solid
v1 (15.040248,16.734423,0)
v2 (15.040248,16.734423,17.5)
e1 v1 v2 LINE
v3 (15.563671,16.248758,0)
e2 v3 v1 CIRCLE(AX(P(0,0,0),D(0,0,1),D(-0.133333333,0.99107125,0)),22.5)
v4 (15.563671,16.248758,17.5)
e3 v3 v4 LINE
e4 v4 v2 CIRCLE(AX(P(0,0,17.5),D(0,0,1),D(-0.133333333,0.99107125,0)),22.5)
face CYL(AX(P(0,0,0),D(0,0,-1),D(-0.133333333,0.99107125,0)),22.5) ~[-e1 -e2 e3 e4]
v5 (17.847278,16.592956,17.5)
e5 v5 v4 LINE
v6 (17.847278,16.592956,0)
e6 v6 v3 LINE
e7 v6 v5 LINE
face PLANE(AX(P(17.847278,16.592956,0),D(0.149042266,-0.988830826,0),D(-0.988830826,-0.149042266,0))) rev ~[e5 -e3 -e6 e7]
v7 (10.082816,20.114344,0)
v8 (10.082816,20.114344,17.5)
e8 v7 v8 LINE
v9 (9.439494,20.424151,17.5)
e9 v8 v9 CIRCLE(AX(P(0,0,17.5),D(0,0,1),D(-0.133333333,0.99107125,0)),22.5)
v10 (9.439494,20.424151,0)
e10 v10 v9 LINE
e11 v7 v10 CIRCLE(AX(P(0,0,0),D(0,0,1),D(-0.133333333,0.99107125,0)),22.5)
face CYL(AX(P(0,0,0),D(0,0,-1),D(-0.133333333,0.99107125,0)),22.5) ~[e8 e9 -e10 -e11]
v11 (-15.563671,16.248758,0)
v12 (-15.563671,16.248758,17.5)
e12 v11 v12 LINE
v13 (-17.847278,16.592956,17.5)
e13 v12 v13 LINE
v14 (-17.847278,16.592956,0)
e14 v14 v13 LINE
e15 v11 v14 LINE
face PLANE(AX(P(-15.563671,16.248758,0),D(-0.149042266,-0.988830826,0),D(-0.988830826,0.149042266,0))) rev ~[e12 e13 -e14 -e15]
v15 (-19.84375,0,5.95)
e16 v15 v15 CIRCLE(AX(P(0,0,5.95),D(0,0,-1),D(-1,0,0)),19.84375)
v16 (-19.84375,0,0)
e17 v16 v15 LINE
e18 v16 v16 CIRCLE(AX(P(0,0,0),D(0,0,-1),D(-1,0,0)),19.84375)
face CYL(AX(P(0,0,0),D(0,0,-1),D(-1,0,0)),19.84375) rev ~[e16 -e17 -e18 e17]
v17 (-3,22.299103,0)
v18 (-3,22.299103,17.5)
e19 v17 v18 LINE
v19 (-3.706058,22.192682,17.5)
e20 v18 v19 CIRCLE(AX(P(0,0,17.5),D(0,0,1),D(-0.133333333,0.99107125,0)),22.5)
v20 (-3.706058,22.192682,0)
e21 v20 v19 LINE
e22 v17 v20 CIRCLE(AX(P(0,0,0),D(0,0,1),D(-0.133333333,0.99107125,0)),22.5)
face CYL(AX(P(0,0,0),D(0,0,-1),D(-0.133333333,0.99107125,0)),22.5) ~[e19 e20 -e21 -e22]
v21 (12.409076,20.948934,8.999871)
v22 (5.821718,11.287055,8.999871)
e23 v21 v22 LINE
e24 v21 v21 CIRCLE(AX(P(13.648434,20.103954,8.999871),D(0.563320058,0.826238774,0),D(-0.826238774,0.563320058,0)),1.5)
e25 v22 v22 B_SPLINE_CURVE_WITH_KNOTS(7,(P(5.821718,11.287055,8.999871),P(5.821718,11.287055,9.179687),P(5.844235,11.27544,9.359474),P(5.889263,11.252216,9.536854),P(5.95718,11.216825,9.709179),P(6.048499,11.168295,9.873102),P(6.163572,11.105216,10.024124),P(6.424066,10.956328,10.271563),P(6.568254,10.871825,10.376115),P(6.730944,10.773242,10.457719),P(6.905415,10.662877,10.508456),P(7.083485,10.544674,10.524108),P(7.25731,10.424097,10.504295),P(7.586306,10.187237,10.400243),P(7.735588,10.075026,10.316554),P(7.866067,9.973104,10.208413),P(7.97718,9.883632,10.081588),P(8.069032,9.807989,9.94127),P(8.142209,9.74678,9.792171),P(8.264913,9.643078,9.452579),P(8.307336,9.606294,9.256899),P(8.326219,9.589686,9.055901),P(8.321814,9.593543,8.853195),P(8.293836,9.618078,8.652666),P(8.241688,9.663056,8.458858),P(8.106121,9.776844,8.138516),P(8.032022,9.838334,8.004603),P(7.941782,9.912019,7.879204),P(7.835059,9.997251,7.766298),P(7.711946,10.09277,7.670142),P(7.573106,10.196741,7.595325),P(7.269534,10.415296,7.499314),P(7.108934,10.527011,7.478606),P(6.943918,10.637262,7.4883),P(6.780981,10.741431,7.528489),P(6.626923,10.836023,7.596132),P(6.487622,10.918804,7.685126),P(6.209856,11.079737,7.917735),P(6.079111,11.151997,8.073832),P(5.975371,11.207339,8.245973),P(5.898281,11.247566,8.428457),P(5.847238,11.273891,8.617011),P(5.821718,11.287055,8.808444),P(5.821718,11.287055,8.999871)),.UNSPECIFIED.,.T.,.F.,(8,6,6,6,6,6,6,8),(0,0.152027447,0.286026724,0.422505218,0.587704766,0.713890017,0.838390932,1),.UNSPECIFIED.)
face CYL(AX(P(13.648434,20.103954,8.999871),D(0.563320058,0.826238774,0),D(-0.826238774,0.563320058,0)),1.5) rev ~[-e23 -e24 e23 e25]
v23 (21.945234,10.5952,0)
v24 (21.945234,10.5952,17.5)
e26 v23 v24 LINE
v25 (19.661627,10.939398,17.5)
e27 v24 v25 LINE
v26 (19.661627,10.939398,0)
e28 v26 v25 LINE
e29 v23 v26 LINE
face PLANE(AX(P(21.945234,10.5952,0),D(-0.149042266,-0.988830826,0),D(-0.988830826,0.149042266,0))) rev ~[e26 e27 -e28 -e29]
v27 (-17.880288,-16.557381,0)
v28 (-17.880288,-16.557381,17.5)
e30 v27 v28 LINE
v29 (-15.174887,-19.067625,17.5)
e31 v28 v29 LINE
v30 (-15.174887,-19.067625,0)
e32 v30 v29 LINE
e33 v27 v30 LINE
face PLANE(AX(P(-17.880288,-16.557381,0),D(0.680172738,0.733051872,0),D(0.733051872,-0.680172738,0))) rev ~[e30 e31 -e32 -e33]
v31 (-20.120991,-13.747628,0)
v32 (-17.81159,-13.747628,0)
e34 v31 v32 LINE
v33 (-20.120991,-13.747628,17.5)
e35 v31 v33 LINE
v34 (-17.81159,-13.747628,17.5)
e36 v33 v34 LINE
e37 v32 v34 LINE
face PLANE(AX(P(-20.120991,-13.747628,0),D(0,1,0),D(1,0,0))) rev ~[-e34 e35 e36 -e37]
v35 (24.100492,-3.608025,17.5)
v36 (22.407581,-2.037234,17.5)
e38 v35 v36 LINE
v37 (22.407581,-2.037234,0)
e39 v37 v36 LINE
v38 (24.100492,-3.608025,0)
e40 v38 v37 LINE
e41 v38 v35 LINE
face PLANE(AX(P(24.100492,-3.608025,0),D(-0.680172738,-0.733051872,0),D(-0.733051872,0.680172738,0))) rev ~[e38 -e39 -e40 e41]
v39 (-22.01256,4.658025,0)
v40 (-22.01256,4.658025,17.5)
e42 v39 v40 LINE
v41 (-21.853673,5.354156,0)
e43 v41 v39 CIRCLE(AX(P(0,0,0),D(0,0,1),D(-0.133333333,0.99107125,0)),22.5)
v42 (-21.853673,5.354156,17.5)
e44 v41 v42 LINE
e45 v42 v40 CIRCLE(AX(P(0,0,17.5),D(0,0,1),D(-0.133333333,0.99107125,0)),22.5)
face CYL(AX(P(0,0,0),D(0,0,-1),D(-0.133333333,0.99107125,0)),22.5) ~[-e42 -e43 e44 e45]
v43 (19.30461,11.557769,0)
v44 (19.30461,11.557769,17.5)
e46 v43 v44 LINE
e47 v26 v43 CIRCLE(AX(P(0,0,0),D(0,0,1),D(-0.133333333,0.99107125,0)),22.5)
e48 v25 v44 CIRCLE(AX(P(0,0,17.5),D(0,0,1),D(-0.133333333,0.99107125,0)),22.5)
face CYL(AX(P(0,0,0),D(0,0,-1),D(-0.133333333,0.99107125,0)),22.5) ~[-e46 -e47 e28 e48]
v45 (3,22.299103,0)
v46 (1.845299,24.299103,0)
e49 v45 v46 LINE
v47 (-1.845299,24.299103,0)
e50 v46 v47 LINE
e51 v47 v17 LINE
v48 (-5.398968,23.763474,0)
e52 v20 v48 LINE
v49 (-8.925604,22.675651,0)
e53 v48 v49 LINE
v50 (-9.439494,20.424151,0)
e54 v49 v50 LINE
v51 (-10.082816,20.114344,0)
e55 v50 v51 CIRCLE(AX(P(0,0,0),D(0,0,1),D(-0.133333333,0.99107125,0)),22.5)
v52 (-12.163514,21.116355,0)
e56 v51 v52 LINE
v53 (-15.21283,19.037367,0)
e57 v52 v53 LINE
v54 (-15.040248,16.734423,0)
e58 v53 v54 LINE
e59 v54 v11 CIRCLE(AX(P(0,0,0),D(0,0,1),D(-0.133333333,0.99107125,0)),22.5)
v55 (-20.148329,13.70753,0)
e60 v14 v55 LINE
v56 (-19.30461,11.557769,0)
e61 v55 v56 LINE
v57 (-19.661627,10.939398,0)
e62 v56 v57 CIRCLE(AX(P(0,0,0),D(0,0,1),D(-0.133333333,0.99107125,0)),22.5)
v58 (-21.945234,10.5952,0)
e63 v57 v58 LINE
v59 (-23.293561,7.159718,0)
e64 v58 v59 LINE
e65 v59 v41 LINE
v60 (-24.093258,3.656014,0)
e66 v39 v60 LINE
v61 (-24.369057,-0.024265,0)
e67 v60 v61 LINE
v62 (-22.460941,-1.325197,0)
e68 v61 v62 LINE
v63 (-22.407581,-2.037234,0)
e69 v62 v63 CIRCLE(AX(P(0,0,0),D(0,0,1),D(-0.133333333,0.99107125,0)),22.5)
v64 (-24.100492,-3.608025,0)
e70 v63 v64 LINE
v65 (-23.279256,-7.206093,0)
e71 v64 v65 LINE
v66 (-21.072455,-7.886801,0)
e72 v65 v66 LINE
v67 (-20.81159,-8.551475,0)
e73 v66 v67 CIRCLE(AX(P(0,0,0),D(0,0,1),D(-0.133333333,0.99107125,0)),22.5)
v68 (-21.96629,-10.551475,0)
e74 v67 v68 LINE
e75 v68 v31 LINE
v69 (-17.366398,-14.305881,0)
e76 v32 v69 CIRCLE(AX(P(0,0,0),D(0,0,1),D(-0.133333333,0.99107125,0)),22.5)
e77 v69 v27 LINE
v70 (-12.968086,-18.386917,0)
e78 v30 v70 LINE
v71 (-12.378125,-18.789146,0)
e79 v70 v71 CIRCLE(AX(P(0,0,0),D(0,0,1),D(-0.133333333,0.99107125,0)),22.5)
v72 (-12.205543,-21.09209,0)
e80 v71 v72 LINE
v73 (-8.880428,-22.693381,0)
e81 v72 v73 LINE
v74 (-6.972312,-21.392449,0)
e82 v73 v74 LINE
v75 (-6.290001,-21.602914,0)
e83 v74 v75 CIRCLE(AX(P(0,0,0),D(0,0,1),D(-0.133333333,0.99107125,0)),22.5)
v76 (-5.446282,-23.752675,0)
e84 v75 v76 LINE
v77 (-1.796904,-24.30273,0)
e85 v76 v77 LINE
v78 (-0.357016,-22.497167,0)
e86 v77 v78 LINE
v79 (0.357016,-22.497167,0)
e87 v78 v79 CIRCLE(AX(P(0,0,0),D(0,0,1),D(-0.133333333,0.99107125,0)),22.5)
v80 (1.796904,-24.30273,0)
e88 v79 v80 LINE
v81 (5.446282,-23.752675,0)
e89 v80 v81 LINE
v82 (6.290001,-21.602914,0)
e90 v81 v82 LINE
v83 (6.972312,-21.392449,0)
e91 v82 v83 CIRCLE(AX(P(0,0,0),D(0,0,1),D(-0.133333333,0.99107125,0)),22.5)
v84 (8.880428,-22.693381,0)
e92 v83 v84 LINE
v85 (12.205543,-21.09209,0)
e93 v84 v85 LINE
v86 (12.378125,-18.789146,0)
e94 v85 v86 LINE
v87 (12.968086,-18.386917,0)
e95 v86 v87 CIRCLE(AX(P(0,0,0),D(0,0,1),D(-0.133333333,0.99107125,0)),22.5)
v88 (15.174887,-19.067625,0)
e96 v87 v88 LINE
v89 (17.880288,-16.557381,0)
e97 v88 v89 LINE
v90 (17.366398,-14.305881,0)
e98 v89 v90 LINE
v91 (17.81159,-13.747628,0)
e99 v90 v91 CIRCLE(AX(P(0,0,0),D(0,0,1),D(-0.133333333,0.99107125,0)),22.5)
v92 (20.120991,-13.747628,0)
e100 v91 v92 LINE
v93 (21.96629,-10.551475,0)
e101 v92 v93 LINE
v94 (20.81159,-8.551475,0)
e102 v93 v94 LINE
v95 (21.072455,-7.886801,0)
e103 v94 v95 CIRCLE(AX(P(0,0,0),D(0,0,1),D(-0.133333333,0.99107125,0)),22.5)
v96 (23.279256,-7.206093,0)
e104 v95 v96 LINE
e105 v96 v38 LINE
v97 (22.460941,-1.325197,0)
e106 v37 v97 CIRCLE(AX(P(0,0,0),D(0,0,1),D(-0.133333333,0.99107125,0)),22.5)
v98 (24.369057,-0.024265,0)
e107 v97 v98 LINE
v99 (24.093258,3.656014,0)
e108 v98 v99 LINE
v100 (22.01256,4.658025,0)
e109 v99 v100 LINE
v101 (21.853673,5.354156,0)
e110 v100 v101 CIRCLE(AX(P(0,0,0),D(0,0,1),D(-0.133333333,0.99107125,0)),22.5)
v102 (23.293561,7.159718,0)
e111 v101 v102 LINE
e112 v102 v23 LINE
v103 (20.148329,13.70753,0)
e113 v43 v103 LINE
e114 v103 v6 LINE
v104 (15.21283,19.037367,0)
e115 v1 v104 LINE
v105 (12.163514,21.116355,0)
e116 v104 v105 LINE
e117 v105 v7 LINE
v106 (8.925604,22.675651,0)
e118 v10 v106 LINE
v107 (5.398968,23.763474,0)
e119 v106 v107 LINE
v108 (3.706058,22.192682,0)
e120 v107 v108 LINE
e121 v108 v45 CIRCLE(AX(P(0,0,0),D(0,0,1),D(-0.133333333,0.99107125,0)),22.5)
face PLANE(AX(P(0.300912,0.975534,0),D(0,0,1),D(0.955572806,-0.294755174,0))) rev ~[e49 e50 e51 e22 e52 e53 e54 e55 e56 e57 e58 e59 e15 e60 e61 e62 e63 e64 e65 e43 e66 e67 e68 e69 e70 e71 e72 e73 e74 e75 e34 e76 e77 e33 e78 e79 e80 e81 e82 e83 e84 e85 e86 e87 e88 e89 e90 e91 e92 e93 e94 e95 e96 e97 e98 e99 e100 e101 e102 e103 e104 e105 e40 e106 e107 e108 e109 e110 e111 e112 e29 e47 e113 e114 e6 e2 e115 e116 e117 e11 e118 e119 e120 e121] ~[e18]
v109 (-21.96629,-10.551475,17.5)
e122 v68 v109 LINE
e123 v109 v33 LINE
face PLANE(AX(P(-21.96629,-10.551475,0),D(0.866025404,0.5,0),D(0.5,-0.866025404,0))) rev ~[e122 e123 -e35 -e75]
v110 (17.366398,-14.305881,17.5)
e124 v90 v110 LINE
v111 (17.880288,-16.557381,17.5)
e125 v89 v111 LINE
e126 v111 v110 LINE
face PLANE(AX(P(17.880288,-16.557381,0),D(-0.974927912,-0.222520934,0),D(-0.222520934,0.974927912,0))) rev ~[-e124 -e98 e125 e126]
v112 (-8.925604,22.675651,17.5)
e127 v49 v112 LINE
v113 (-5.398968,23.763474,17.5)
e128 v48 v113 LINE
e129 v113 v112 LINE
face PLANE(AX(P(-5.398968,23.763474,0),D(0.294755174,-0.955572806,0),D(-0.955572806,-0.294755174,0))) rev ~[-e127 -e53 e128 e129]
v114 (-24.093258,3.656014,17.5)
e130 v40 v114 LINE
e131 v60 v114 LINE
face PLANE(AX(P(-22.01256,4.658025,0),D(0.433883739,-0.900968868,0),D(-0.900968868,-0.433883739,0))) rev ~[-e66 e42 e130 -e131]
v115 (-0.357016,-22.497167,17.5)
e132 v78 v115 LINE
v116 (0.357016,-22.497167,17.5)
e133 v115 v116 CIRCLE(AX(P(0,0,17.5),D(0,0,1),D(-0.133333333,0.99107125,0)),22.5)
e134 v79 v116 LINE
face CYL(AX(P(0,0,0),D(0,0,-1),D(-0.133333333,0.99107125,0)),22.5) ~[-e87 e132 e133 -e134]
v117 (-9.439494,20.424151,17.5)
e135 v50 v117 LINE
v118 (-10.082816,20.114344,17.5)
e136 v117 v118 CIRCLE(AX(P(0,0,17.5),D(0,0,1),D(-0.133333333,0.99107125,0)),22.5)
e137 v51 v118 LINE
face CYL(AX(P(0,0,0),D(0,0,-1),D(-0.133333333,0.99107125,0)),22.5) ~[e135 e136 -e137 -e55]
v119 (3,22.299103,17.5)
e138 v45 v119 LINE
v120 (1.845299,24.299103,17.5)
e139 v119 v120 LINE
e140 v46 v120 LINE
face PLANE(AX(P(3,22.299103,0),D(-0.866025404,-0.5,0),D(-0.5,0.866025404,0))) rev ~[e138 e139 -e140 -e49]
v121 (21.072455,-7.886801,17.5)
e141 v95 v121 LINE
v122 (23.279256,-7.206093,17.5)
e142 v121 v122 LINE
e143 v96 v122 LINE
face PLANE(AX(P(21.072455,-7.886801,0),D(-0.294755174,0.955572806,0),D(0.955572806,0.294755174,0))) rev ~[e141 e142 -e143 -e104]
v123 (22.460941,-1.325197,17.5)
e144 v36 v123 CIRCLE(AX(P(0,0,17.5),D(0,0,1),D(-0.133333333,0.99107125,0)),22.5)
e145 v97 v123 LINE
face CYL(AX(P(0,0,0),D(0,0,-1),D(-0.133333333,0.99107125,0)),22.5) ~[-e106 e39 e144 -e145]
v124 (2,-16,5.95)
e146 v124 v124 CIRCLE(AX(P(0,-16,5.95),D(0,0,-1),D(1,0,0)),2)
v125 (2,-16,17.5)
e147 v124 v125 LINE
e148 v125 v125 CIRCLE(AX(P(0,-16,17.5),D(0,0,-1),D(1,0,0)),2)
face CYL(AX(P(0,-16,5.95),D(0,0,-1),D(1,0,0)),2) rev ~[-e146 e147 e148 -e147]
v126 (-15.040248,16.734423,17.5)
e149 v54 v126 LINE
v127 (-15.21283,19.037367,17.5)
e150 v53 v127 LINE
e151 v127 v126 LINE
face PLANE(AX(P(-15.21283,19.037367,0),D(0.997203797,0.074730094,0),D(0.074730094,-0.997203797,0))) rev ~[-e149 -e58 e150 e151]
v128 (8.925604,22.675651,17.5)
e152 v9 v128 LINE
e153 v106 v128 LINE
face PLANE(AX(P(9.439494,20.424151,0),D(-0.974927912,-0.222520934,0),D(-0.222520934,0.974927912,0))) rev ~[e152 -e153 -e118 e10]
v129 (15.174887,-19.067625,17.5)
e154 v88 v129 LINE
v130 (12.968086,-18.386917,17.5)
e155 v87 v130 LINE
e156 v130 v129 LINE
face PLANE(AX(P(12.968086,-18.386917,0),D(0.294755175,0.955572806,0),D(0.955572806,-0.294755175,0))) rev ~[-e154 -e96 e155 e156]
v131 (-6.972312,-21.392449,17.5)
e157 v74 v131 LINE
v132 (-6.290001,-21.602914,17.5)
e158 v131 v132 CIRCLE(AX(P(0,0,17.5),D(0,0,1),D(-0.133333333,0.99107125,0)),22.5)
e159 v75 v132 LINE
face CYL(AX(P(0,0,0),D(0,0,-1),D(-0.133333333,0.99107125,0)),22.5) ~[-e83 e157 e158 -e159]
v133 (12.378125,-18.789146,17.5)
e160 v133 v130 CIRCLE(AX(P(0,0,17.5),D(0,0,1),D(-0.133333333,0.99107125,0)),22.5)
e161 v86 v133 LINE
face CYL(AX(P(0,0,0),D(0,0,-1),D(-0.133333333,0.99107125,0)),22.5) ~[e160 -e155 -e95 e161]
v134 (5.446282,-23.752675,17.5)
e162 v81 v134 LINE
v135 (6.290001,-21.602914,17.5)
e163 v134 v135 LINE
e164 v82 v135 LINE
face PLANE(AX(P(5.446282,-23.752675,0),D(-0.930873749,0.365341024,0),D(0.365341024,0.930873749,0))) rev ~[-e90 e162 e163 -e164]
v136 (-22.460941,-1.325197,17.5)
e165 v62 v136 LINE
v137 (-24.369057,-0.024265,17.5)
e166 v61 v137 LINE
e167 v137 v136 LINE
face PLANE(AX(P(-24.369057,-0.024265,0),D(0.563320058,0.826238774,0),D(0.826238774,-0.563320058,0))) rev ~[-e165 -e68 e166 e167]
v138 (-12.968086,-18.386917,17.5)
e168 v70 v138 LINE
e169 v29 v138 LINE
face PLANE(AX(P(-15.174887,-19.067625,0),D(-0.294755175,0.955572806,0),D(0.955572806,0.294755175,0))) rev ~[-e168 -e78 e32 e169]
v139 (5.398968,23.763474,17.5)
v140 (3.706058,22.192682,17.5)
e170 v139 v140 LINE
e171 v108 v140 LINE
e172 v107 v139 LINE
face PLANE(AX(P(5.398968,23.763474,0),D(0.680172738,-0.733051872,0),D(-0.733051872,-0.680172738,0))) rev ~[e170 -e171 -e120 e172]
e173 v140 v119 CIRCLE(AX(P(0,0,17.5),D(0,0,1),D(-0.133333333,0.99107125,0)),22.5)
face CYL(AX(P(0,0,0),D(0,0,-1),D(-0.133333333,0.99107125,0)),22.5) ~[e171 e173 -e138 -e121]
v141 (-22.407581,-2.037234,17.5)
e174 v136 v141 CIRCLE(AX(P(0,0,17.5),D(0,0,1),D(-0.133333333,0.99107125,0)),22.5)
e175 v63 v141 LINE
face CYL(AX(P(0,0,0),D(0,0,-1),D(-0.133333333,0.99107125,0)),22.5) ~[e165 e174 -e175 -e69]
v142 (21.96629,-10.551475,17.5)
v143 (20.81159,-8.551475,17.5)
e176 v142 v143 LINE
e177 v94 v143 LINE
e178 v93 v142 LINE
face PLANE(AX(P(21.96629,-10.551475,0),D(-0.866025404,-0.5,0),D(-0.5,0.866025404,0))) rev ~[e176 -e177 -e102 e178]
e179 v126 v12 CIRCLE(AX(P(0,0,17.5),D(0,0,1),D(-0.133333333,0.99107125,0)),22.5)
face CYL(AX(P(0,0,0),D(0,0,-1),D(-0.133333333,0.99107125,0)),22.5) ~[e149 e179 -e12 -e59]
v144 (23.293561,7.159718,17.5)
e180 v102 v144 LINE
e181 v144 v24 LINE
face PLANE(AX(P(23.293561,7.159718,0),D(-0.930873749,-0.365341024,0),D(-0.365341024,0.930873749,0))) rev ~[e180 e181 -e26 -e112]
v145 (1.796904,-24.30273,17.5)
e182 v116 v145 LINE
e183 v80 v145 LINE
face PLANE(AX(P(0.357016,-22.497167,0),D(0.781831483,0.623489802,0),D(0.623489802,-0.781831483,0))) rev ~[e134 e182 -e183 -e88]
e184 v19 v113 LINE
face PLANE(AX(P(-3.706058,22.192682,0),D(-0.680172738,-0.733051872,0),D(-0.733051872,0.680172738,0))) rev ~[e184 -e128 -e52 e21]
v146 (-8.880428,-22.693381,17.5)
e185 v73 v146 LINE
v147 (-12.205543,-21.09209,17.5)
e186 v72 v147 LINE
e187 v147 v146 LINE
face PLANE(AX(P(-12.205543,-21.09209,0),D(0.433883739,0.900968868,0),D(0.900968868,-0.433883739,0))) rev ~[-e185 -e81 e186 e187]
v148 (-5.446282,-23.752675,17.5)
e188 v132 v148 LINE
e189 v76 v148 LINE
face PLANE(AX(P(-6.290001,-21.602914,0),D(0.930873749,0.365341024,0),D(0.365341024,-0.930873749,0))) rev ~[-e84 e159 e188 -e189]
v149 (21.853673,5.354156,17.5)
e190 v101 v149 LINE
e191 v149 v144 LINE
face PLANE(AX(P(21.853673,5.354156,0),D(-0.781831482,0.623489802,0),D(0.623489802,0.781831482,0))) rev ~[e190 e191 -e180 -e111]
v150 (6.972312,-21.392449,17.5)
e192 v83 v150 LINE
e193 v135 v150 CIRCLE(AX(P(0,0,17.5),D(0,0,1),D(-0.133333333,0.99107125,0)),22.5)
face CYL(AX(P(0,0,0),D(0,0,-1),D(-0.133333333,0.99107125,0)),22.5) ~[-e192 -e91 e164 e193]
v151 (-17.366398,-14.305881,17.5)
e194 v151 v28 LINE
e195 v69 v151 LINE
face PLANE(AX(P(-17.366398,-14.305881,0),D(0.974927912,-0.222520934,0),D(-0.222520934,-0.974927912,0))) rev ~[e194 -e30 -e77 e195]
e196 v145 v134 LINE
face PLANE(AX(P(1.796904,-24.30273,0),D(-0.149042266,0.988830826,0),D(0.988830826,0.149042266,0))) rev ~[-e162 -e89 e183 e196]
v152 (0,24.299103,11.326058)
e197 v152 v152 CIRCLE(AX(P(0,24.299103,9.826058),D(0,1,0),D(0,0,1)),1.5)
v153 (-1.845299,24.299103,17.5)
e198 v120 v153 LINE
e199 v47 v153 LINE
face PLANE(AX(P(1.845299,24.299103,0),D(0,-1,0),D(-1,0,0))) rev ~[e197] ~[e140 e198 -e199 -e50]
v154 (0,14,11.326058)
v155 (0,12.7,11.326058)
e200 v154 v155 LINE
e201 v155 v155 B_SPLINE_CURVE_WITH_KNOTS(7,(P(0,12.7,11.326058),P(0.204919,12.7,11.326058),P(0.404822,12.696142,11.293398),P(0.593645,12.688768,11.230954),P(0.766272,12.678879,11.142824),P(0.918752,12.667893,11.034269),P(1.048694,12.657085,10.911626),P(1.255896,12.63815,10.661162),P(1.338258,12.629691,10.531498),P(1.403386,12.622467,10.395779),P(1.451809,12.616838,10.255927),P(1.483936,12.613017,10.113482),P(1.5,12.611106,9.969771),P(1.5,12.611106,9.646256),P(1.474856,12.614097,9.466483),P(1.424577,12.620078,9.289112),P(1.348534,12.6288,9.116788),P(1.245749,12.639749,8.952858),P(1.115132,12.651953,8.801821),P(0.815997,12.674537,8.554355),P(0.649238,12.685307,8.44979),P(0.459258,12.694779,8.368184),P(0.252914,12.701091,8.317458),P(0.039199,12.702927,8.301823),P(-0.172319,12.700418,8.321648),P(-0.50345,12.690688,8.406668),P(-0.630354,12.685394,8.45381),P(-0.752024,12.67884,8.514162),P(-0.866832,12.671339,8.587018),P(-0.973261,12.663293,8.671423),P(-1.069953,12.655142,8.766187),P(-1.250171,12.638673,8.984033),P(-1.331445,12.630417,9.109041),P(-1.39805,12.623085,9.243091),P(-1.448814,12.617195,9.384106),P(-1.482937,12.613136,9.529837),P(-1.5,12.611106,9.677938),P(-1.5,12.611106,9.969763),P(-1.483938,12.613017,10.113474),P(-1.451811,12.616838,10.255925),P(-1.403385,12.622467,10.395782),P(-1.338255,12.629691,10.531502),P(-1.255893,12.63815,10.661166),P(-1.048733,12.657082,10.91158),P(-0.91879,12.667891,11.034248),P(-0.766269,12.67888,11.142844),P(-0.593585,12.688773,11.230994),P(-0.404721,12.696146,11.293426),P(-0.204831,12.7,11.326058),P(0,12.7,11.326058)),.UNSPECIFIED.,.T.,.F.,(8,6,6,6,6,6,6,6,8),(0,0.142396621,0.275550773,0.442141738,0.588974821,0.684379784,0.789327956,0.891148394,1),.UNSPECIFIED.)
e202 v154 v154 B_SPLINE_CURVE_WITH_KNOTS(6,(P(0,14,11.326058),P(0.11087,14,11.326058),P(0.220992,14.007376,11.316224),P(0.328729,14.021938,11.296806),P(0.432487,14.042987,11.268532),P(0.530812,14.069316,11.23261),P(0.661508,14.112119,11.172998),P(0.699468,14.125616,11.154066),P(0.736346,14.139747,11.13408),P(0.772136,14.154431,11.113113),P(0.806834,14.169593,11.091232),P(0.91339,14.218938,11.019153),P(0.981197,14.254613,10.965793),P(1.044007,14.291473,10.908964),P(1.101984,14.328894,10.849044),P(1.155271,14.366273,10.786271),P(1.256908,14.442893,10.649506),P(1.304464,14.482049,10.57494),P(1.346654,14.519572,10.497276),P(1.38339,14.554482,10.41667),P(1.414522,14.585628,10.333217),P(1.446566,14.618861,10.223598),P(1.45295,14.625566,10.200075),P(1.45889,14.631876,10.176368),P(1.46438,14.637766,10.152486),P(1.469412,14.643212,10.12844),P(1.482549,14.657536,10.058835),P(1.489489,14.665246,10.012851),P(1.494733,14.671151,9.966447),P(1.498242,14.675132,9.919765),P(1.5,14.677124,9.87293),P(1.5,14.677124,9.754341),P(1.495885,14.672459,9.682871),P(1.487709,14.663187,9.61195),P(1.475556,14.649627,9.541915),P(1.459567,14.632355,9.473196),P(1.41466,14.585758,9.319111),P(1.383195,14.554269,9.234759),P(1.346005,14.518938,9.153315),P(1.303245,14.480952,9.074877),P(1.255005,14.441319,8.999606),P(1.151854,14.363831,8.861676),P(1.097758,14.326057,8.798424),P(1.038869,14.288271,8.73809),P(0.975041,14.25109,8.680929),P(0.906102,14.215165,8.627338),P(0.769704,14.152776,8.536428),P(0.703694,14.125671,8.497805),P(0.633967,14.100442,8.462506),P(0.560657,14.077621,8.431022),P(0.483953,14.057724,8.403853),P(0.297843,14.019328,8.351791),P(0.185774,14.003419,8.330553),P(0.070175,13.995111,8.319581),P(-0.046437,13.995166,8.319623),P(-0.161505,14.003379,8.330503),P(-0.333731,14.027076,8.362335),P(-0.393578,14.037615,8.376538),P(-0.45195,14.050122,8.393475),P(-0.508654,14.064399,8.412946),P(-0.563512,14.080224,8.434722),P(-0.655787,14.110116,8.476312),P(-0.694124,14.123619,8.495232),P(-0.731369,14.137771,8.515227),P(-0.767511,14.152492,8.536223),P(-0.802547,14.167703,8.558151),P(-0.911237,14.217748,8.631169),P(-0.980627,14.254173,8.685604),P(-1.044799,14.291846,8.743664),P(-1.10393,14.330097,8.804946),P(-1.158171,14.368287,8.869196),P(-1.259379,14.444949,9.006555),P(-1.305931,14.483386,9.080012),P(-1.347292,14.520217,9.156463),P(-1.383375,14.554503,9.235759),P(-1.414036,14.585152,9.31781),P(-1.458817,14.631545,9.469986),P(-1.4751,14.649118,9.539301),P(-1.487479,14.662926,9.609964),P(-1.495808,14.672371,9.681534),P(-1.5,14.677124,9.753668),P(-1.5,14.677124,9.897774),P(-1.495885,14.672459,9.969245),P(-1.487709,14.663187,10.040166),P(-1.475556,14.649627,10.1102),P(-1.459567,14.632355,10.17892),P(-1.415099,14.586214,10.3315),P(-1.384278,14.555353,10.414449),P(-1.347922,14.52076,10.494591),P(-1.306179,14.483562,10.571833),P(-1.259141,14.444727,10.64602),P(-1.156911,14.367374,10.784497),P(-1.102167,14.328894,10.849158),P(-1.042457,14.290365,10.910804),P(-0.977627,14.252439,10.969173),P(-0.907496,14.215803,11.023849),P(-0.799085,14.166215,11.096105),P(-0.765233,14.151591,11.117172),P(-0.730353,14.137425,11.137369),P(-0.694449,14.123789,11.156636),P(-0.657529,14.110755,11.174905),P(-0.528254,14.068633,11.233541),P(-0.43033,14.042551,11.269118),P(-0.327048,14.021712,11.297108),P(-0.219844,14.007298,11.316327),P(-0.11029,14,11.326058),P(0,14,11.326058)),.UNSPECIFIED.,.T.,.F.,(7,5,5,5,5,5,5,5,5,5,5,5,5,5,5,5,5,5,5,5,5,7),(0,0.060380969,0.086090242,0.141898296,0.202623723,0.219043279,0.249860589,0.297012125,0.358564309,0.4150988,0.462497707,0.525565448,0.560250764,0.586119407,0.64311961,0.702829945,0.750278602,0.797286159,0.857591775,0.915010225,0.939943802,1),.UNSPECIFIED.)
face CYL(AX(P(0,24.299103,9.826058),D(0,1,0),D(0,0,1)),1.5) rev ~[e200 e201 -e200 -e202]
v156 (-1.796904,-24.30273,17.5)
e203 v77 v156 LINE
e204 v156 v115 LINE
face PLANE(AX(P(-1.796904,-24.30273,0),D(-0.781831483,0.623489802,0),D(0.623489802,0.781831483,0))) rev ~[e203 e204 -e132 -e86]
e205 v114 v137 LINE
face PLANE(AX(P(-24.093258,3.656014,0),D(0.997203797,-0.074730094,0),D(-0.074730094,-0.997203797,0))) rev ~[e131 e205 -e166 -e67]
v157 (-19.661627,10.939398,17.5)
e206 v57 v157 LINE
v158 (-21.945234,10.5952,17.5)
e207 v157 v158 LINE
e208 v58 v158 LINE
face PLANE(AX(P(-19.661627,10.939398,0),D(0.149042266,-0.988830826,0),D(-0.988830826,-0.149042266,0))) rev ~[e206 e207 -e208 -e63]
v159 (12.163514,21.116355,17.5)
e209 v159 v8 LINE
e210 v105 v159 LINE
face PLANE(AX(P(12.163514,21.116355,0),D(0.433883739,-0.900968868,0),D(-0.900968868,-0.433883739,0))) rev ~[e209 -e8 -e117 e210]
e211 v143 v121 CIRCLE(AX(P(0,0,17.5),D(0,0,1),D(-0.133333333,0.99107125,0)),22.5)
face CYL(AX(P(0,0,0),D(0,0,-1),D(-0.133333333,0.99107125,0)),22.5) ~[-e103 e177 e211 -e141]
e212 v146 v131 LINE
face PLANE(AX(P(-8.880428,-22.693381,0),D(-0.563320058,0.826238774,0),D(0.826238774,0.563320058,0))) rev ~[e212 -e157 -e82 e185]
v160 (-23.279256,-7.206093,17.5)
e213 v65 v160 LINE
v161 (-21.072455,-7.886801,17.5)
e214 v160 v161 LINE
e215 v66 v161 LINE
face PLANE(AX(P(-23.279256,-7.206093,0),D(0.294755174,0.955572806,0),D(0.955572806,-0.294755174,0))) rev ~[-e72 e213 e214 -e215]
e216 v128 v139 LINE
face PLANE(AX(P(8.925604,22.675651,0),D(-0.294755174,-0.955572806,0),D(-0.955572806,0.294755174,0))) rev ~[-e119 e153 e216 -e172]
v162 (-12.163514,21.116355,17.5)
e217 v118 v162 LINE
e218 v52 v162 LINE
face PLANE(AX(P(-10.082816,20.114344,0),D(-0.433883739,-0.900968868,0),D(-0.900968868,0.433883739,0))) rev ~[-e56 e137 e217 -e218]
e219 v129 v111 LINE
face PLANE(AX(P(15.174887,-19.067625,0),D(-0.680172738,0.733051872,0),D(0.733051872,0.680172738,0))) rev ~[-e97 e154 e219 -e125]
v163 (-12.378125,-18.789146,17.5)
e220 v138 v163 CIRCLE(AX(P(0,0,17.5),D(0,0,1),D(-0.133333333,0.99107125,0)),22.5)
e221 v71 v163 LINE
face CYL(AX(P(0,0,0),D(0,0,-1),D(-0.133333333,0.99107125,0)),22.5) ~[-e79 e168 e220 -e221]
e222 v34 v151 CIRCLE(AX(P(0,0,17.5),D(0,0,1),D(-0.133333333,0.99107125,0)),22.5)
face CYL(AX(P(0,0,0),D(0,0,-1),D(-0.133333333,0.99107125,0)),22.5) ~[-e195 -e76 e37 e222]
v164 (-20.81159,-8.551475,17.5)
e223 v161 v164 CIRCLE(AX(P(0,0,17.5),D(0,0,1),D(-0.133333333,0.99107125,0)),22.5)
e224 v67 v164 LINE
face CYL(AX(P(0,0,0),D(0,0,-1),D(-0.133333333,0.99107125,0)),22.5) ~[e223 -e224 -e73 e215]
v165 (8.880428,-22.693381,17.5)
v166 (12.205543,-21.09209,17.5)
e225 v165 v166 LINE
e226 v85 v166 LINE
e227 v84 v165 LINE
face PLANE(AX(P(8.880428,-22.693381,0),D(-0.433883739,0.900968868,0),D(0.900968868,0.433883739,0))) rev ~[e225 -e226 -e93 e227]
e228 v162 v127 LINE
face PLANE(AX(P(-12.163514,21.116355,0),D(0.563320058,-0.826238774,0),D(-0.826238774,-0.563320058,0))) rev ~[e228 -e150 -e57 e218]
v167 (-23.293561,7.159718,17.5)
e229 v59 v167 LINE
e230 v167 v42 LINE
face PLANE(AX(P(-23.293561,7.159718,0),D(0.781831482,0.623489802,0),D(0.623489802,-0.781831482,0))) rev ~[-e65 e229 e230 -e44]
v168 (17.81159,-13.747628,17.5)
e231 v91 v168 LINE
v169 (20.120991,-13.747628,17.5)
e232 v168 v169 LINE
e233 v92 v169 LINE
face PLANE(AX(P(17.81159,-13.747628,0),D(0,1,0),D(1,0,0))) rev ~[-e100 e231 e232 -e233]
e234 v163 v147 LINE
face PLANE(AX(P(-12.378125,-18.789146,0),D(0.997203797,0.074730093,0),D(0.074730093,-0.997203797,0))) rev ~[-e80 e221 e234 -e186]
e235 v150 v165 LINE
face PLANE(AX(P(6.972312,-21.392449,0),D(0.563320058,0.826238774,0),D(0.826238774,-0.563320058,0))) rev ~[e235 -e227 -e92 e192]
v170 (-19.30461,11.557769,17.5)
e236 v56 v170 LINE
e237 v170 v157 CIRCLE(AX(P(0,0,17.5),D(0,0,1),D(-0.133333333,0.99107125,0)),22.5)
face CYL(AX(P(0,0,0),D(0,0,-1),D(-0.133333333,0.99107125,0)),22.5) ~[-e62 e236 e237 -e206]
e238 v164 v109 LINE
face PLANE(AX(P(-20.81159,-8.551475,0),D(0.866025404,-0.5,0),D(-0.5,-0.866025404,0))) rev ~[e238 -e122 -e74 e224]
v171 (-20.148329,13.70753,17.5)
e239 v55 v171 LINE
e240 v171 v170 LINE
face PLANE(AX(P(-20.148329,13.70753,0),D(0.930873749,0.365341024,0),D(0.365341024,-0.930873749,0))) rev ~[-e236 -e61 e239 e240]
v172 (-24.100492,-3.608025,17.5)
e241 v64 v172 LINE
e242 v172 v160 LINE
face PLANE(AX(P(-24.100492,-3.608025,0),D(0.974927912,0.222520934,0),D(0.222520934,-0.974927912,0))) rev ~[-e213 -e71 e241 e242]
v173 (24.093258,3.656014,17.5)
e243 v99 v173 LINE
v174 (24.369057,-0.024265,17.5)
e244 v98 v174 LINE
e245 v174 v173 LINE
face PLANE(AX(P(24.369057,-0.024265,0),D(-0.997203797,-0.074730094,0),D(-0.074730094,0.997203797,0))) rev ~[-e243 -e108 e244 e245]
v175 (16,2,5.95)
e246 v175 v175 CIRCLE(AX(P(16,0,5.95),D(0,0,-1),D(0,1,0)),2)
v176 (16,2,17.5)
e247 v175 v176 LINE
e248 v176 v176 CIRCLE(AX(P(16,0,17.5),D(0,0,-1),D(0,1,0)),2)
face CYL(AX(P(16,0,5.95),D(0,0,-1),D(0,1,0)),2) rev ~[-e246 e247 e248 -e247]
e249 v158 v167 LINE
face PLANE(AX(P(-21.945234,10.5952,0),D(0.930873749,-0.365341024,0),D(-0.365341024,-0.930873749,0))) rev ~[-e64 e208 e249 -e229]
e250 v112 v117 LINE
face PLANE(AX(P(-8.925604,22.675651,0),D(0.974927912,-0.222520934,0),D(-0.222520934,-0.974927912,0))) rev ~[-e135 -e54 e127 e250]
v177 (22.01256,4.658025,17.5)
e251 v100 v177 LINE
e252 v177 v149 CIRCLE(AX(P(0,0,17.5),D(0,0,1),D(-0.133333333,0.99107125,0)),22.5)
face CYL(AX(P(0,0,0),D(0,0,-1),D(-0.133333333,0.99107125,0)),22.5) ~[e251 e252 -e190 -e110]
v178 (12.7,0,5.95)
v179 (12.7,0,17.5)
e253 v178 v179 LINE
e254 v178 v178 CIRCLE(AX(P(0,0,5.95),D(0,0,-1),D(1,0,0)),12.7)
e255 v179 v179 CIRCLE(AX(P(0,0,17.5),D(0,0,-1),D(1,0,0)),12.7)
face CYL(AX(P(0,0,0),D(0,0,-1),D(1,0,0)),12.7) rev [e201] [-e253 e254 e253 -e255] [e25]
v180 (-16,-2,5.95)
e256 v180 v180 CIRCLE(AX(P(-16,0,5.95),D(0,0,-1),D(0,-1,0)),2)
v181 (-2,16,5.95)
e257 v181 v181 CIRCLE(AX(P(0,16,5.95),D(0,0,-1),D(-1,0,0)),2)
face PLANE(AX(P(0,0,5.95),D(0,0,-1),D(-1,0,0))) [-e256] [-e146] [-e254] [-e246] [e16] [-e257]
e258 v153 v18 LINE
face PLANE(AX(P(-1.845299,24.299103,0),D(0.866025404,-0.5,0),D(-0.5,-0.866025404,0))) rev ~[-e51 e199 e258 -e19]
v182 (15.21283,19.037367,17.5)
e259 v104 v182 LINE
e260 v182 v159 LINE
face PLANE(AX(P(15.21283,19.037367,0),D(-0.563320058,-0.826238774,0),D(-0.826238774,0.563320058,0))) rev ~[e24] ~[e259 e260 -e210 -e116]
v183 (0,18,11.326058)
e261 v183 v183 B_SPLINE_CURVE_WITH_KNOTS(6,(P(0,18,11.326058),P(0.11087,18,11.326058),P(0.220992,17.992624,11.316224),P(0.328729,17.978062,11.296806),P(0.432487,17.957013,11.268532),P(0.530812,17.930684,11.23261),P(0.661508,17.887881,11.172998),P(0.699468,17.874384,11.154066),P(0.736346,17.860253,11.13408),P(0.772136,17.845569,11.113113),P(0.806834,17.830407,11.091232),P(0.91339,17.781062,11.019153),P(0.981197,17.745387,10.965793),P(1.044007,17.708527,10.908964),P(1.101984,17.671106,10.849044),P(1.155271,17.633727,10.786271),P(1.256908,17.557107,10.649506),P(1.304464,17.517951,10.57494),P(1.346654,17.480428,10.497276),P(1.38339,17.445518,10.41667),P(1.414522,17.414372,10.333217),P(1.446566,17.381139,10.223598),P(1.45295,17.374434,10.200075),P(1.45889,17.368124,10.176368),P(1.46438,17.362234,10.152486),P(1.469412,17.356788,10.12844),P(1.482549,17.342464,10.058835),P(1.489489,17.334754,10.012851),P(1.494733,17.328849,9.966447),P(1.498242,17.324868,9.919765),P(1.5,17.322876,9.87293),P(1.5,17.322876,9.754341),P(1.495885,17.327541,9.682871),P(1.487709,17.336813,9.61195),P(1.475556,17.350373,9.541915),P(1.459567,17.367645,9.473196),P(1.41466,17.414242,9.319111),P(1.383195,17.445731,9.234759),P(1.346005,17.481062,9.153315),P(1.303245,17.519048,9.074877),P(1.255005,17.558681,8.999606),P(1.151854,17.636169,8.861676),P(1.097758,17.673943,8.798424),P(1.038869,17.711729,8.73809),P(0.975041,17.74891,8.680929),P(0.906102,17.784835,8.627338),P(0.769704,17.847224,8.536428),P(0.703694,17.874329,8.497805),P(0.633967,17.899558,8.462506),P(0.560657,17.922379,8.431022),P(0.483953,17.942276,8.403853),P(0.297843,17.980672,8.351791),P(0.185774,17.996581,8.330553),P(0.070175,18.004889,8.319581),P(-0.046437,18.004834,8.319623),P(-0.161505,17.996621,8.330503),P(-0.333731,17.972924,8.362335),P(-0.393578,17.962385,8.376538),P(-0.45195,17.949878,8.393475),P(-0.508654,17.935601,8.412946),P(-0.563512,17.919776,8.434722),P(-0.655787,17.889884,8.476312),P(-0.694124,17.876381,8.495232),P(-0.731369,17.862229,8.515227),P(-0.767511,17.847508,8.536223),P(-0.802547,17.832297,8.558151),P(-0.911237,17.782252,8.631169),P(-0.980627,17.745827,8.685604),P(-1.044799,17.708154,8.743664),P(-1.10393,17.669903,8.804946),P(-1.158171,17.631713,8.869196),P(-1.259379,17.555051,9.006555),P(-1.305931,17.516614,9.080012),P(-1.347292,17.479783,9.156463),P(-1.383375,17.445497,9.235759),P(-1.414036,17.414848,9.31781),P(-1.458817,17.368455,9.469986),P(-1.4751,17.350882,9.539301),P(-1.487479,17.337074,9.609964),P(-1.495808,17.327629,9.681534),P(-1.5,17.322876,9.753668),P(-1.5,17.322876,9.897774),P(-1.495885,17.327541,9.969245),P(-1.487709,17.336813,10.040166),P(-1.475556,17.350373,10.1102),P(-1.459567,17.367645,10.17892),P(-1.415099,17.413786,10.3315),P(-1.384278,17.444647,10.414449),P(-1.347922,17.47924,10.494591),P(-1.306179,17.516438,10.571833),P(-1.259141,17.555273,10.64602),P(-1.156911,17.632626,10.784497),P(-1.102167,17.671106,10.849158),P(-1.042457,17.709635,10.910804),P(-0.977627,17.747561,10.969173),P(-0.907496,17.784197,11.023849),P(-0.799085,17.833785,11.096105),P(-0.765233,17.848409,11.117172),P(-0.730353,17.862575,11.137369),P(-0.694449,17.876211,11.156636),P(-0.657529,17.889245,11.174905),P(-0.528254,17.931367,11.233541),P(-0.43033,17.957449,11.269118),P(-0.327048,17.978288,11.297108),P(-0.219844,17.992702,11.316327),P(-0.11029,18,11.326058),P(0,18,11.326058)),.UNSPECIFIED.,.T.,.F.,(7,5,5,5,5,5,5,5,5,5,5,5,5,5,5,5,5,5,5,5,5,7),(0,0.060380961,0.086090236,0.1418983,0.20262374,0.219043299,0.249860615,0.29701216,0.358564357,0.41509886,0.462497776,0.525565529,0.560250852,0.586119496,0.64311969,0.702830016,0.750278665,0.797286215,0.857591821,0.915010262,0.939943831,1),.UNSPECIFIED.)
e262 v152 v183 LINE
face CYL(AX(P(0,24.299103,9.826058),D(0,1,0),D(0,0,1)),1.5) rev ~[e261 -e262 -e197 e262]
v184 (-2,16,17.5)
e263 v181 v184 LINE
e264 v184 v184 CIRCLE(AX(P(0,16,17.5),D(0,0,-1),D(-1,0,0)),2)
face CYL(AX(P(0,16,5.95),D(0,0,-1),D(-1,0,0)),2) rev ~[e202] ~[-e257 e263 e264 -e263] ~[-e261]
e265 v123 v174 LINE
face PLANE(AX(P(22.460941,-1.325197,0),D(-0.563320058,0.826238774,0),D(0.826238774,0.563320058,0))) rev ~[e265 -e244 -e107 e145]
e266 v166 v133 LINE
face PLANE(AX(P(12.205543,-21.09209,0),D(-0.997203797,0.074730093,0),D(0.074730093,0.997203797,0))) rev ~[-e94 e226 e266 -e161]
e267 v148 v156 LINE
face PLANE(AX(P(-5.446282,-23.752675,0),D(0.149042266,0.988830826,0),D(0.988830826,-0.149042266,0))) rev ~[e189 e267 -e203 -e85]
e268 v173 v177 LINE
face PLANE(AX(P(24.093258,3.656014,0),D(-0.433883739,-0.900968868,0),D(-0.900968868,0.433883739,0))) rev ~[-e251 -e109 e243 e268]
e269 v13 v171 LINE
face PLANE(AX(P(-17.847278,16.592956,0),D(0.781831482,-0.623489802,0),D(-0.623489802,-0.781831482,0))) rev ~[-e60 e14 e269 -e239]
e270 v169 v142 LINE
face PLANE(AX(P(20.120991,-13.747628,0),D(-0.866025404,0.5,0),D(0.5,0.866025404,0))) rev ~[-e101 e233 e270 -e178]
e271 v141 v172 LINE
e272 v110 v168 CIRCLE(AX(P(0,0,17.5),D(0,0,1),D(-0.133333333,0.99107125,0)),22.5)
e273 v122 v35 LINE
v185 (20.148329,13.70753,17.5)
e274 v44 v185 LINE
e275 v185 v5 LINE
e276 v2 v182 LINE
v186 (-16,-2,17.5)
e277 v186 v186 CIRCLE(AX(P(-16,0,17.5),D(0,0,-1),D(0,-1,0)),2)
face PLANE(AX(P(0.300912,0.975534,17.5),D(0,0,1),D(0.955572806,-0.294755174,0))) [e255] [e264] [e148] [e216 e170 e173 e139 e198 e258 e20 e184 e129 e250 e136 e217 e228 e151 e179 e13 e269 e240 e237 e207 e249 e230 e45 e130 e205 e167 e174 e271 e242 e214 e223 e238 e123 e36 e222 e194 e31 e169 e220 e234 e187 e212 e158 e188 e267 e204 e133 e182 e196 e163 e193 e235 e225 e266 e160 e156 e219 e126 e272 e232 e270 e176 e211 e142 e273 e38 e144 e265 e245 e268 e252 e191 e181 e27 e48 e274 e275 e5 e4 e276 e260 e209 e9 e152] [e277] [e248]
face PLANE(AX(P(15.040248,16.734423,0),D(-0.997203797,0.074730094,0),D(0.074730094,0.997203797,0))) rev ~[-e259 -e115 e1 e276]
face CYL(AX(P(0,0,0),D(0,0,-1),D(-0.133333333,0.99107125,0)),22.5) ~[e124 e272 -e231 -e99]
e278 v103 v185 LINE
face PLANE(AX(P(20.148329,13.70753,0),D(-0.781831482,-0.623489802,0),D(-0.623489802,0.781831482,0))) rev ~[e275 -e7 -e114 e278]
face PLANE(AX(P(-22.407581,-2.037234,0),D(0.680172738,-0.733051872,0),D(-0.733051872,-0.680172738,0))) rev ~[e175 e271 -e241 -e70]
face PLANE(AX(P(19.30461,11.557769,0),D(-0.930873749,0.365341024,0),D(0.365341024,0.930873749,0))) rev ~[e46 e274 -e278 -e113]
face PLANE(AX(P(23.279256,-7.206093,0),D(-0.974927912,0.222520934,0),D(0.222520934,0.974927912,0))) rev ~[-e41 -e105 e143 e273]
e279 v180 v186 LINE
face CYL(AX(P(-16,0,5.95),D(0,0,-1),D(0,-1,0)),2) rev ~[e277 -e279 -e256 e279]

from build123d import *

# Parameters (mm, degrees)
SKETCH1_R           = 12.7
BOSS_EXTRUDE1_DEPTH = 17.5
SKETCH2_R           = 1.75
CUT_EXTRUDE1_DEPTH  = 10
CIRPATTERN1_COUNT   = 4
CIRPATTERN7_COUNT   = 21
SKETCH5_R           = 19.84375
CUT_EXTRUDE5_DEPTH  = 5.95
SKETCH9_R           = 2
CUT_EXTRUDE11_DEPTH = 26
CIRPATTERN9_COUNT   = 4
SKETCH10_R          = 1.5
CUT_EXTRUDE12_DEPTH = 26
SKETCH11_R          = 1.5
CUT_EXTRUDE13_DEPTH = 30


with BuildPart() as part:
    # Sketch1 → Boss-Extrude1 (new body)
    with BuildSketch(Plane.XY):
        with BuildLine():
            Line((-1.845299462, 24.299103121), (-3, 22.299103121))
            ThreePointArc((-3, 22.299103121), (0, -22.5), (3, 22.299103121))
            Line((3, 22.299103121), (1.845299462, 24.299103121))
            Line((1.845299462, 24.299103121), (-1.845299462, 24.299103121))
        make_face()
        Circle(SKETCH1_R, mode=Mode.SUBTRACT)
    boss_extrude1 = extrude(amount=BOSS_EXTRUDE1_DEPTH)

    # Sketch2 → Cut-Extrude1 (cut)
    with BuildSketch(Plane.XY.offset(17.5)):
        with Locations((-11.6, 11.6)):
            Circle(SKETCH2_R)
    cut_extrude1 = extrude(amount=-CUT_EXTRUDE1_DEPTH, mode=Mode.SUBTRACT)

    # CirPattern1: Cut-Extrude1 ×4 about axis
    cirpattern1_axis = Axis((0, 0, 0), (0, 0, 1))
    for i in range(1, CIRPATTERN1_COUNT):
        add(cut_extrude1.rotate(cirpattern1_axis, i * 360 / CIRPATTERN1_COUNT), mode=Mode.SUBTRACT)

    # CirPattern7: Boss-Extrude1 ×21 about axis
    cirpattern7_axis = Axis((0, 0, 0), (0, 0, 1))
    for i in range(1, CIRPATTERN7_COUNT):
        add(boss_extrude1.rotate(cirpattern7_axis, i * 360 / CIRPATTERN7_COUNT))

    # Sketch5 → Cut-Extrude5 (cut)
    with BuildSketch(Plane(origin=(0, 0, 0), x_dir=(-1, 0, 0), z_dir=(0, 0, -1))):
        Circle(SKETCH5_R)
    extrude(amount=-CUT_EXTRUDE5_DEPTH, mode=Mode.SUBTRACT)

    # Sketch9 → Cut-Extrude11 (cut)
    with BuildSketch(Plane(origin=(0, 0, 5.95), x_dir=(-1, 0, 0), z_dir=(0, 0, -1))):
        with Locations((0, 16)):
            Circle(SKETCH9_R)
    cut_extrude11 = extrude(amount=-CUT_EXTRUDE11_DEPTH, mode=Mode.SUBTRACT)

    # CirPattern9: Cut-Extrude11 ×4 about axis
    cirpattern9_axis = Axis((0, 0, 0), (0, 0, 1))
    for i in range(1, CIRPATTERN9_COUNT):
        add(cut_extrude11.rotate(cirpattern9_axis, i * 360 / CIRPATTERN9_COUNT), mode=Mode.SUBTRACT)

    # Sketch10 → Cut-Extrude12 (cut)
    with BuildSketch(Plane(origin=(13.688172181, 20.07686118, 0), x_dir=(0.8262387743160019, -0.5633200580636119, 0), z_dir=(0.5633200580636117, 0.8262387743160018, 0))):
        with Locations(Location((-0.048095596, -8.999871489, 0), (0, 0, 180))):
            Circle(SKETCH10_R)
    extrude(amount=-CUT_EXTRUDE12_DEPTH, mode=Mode.SUBTRACT)

    # Sketch11 → Cut-Extrude13 (cut)
    with BuildSketch(Plane(origin=(0, 24.299103121, 0), x_dir=(1, 0, 0), z_dir=(0, 1, 0))):
        with Locations(Location((0, -9.826057875, 0), (0, 0, 270))):
            Circle(SKETCH11_R)
    extrude(amount=-CUT_EXTRUDE13_DEPTH, mode=Mode.SUBTRACT)


solid = part.part
